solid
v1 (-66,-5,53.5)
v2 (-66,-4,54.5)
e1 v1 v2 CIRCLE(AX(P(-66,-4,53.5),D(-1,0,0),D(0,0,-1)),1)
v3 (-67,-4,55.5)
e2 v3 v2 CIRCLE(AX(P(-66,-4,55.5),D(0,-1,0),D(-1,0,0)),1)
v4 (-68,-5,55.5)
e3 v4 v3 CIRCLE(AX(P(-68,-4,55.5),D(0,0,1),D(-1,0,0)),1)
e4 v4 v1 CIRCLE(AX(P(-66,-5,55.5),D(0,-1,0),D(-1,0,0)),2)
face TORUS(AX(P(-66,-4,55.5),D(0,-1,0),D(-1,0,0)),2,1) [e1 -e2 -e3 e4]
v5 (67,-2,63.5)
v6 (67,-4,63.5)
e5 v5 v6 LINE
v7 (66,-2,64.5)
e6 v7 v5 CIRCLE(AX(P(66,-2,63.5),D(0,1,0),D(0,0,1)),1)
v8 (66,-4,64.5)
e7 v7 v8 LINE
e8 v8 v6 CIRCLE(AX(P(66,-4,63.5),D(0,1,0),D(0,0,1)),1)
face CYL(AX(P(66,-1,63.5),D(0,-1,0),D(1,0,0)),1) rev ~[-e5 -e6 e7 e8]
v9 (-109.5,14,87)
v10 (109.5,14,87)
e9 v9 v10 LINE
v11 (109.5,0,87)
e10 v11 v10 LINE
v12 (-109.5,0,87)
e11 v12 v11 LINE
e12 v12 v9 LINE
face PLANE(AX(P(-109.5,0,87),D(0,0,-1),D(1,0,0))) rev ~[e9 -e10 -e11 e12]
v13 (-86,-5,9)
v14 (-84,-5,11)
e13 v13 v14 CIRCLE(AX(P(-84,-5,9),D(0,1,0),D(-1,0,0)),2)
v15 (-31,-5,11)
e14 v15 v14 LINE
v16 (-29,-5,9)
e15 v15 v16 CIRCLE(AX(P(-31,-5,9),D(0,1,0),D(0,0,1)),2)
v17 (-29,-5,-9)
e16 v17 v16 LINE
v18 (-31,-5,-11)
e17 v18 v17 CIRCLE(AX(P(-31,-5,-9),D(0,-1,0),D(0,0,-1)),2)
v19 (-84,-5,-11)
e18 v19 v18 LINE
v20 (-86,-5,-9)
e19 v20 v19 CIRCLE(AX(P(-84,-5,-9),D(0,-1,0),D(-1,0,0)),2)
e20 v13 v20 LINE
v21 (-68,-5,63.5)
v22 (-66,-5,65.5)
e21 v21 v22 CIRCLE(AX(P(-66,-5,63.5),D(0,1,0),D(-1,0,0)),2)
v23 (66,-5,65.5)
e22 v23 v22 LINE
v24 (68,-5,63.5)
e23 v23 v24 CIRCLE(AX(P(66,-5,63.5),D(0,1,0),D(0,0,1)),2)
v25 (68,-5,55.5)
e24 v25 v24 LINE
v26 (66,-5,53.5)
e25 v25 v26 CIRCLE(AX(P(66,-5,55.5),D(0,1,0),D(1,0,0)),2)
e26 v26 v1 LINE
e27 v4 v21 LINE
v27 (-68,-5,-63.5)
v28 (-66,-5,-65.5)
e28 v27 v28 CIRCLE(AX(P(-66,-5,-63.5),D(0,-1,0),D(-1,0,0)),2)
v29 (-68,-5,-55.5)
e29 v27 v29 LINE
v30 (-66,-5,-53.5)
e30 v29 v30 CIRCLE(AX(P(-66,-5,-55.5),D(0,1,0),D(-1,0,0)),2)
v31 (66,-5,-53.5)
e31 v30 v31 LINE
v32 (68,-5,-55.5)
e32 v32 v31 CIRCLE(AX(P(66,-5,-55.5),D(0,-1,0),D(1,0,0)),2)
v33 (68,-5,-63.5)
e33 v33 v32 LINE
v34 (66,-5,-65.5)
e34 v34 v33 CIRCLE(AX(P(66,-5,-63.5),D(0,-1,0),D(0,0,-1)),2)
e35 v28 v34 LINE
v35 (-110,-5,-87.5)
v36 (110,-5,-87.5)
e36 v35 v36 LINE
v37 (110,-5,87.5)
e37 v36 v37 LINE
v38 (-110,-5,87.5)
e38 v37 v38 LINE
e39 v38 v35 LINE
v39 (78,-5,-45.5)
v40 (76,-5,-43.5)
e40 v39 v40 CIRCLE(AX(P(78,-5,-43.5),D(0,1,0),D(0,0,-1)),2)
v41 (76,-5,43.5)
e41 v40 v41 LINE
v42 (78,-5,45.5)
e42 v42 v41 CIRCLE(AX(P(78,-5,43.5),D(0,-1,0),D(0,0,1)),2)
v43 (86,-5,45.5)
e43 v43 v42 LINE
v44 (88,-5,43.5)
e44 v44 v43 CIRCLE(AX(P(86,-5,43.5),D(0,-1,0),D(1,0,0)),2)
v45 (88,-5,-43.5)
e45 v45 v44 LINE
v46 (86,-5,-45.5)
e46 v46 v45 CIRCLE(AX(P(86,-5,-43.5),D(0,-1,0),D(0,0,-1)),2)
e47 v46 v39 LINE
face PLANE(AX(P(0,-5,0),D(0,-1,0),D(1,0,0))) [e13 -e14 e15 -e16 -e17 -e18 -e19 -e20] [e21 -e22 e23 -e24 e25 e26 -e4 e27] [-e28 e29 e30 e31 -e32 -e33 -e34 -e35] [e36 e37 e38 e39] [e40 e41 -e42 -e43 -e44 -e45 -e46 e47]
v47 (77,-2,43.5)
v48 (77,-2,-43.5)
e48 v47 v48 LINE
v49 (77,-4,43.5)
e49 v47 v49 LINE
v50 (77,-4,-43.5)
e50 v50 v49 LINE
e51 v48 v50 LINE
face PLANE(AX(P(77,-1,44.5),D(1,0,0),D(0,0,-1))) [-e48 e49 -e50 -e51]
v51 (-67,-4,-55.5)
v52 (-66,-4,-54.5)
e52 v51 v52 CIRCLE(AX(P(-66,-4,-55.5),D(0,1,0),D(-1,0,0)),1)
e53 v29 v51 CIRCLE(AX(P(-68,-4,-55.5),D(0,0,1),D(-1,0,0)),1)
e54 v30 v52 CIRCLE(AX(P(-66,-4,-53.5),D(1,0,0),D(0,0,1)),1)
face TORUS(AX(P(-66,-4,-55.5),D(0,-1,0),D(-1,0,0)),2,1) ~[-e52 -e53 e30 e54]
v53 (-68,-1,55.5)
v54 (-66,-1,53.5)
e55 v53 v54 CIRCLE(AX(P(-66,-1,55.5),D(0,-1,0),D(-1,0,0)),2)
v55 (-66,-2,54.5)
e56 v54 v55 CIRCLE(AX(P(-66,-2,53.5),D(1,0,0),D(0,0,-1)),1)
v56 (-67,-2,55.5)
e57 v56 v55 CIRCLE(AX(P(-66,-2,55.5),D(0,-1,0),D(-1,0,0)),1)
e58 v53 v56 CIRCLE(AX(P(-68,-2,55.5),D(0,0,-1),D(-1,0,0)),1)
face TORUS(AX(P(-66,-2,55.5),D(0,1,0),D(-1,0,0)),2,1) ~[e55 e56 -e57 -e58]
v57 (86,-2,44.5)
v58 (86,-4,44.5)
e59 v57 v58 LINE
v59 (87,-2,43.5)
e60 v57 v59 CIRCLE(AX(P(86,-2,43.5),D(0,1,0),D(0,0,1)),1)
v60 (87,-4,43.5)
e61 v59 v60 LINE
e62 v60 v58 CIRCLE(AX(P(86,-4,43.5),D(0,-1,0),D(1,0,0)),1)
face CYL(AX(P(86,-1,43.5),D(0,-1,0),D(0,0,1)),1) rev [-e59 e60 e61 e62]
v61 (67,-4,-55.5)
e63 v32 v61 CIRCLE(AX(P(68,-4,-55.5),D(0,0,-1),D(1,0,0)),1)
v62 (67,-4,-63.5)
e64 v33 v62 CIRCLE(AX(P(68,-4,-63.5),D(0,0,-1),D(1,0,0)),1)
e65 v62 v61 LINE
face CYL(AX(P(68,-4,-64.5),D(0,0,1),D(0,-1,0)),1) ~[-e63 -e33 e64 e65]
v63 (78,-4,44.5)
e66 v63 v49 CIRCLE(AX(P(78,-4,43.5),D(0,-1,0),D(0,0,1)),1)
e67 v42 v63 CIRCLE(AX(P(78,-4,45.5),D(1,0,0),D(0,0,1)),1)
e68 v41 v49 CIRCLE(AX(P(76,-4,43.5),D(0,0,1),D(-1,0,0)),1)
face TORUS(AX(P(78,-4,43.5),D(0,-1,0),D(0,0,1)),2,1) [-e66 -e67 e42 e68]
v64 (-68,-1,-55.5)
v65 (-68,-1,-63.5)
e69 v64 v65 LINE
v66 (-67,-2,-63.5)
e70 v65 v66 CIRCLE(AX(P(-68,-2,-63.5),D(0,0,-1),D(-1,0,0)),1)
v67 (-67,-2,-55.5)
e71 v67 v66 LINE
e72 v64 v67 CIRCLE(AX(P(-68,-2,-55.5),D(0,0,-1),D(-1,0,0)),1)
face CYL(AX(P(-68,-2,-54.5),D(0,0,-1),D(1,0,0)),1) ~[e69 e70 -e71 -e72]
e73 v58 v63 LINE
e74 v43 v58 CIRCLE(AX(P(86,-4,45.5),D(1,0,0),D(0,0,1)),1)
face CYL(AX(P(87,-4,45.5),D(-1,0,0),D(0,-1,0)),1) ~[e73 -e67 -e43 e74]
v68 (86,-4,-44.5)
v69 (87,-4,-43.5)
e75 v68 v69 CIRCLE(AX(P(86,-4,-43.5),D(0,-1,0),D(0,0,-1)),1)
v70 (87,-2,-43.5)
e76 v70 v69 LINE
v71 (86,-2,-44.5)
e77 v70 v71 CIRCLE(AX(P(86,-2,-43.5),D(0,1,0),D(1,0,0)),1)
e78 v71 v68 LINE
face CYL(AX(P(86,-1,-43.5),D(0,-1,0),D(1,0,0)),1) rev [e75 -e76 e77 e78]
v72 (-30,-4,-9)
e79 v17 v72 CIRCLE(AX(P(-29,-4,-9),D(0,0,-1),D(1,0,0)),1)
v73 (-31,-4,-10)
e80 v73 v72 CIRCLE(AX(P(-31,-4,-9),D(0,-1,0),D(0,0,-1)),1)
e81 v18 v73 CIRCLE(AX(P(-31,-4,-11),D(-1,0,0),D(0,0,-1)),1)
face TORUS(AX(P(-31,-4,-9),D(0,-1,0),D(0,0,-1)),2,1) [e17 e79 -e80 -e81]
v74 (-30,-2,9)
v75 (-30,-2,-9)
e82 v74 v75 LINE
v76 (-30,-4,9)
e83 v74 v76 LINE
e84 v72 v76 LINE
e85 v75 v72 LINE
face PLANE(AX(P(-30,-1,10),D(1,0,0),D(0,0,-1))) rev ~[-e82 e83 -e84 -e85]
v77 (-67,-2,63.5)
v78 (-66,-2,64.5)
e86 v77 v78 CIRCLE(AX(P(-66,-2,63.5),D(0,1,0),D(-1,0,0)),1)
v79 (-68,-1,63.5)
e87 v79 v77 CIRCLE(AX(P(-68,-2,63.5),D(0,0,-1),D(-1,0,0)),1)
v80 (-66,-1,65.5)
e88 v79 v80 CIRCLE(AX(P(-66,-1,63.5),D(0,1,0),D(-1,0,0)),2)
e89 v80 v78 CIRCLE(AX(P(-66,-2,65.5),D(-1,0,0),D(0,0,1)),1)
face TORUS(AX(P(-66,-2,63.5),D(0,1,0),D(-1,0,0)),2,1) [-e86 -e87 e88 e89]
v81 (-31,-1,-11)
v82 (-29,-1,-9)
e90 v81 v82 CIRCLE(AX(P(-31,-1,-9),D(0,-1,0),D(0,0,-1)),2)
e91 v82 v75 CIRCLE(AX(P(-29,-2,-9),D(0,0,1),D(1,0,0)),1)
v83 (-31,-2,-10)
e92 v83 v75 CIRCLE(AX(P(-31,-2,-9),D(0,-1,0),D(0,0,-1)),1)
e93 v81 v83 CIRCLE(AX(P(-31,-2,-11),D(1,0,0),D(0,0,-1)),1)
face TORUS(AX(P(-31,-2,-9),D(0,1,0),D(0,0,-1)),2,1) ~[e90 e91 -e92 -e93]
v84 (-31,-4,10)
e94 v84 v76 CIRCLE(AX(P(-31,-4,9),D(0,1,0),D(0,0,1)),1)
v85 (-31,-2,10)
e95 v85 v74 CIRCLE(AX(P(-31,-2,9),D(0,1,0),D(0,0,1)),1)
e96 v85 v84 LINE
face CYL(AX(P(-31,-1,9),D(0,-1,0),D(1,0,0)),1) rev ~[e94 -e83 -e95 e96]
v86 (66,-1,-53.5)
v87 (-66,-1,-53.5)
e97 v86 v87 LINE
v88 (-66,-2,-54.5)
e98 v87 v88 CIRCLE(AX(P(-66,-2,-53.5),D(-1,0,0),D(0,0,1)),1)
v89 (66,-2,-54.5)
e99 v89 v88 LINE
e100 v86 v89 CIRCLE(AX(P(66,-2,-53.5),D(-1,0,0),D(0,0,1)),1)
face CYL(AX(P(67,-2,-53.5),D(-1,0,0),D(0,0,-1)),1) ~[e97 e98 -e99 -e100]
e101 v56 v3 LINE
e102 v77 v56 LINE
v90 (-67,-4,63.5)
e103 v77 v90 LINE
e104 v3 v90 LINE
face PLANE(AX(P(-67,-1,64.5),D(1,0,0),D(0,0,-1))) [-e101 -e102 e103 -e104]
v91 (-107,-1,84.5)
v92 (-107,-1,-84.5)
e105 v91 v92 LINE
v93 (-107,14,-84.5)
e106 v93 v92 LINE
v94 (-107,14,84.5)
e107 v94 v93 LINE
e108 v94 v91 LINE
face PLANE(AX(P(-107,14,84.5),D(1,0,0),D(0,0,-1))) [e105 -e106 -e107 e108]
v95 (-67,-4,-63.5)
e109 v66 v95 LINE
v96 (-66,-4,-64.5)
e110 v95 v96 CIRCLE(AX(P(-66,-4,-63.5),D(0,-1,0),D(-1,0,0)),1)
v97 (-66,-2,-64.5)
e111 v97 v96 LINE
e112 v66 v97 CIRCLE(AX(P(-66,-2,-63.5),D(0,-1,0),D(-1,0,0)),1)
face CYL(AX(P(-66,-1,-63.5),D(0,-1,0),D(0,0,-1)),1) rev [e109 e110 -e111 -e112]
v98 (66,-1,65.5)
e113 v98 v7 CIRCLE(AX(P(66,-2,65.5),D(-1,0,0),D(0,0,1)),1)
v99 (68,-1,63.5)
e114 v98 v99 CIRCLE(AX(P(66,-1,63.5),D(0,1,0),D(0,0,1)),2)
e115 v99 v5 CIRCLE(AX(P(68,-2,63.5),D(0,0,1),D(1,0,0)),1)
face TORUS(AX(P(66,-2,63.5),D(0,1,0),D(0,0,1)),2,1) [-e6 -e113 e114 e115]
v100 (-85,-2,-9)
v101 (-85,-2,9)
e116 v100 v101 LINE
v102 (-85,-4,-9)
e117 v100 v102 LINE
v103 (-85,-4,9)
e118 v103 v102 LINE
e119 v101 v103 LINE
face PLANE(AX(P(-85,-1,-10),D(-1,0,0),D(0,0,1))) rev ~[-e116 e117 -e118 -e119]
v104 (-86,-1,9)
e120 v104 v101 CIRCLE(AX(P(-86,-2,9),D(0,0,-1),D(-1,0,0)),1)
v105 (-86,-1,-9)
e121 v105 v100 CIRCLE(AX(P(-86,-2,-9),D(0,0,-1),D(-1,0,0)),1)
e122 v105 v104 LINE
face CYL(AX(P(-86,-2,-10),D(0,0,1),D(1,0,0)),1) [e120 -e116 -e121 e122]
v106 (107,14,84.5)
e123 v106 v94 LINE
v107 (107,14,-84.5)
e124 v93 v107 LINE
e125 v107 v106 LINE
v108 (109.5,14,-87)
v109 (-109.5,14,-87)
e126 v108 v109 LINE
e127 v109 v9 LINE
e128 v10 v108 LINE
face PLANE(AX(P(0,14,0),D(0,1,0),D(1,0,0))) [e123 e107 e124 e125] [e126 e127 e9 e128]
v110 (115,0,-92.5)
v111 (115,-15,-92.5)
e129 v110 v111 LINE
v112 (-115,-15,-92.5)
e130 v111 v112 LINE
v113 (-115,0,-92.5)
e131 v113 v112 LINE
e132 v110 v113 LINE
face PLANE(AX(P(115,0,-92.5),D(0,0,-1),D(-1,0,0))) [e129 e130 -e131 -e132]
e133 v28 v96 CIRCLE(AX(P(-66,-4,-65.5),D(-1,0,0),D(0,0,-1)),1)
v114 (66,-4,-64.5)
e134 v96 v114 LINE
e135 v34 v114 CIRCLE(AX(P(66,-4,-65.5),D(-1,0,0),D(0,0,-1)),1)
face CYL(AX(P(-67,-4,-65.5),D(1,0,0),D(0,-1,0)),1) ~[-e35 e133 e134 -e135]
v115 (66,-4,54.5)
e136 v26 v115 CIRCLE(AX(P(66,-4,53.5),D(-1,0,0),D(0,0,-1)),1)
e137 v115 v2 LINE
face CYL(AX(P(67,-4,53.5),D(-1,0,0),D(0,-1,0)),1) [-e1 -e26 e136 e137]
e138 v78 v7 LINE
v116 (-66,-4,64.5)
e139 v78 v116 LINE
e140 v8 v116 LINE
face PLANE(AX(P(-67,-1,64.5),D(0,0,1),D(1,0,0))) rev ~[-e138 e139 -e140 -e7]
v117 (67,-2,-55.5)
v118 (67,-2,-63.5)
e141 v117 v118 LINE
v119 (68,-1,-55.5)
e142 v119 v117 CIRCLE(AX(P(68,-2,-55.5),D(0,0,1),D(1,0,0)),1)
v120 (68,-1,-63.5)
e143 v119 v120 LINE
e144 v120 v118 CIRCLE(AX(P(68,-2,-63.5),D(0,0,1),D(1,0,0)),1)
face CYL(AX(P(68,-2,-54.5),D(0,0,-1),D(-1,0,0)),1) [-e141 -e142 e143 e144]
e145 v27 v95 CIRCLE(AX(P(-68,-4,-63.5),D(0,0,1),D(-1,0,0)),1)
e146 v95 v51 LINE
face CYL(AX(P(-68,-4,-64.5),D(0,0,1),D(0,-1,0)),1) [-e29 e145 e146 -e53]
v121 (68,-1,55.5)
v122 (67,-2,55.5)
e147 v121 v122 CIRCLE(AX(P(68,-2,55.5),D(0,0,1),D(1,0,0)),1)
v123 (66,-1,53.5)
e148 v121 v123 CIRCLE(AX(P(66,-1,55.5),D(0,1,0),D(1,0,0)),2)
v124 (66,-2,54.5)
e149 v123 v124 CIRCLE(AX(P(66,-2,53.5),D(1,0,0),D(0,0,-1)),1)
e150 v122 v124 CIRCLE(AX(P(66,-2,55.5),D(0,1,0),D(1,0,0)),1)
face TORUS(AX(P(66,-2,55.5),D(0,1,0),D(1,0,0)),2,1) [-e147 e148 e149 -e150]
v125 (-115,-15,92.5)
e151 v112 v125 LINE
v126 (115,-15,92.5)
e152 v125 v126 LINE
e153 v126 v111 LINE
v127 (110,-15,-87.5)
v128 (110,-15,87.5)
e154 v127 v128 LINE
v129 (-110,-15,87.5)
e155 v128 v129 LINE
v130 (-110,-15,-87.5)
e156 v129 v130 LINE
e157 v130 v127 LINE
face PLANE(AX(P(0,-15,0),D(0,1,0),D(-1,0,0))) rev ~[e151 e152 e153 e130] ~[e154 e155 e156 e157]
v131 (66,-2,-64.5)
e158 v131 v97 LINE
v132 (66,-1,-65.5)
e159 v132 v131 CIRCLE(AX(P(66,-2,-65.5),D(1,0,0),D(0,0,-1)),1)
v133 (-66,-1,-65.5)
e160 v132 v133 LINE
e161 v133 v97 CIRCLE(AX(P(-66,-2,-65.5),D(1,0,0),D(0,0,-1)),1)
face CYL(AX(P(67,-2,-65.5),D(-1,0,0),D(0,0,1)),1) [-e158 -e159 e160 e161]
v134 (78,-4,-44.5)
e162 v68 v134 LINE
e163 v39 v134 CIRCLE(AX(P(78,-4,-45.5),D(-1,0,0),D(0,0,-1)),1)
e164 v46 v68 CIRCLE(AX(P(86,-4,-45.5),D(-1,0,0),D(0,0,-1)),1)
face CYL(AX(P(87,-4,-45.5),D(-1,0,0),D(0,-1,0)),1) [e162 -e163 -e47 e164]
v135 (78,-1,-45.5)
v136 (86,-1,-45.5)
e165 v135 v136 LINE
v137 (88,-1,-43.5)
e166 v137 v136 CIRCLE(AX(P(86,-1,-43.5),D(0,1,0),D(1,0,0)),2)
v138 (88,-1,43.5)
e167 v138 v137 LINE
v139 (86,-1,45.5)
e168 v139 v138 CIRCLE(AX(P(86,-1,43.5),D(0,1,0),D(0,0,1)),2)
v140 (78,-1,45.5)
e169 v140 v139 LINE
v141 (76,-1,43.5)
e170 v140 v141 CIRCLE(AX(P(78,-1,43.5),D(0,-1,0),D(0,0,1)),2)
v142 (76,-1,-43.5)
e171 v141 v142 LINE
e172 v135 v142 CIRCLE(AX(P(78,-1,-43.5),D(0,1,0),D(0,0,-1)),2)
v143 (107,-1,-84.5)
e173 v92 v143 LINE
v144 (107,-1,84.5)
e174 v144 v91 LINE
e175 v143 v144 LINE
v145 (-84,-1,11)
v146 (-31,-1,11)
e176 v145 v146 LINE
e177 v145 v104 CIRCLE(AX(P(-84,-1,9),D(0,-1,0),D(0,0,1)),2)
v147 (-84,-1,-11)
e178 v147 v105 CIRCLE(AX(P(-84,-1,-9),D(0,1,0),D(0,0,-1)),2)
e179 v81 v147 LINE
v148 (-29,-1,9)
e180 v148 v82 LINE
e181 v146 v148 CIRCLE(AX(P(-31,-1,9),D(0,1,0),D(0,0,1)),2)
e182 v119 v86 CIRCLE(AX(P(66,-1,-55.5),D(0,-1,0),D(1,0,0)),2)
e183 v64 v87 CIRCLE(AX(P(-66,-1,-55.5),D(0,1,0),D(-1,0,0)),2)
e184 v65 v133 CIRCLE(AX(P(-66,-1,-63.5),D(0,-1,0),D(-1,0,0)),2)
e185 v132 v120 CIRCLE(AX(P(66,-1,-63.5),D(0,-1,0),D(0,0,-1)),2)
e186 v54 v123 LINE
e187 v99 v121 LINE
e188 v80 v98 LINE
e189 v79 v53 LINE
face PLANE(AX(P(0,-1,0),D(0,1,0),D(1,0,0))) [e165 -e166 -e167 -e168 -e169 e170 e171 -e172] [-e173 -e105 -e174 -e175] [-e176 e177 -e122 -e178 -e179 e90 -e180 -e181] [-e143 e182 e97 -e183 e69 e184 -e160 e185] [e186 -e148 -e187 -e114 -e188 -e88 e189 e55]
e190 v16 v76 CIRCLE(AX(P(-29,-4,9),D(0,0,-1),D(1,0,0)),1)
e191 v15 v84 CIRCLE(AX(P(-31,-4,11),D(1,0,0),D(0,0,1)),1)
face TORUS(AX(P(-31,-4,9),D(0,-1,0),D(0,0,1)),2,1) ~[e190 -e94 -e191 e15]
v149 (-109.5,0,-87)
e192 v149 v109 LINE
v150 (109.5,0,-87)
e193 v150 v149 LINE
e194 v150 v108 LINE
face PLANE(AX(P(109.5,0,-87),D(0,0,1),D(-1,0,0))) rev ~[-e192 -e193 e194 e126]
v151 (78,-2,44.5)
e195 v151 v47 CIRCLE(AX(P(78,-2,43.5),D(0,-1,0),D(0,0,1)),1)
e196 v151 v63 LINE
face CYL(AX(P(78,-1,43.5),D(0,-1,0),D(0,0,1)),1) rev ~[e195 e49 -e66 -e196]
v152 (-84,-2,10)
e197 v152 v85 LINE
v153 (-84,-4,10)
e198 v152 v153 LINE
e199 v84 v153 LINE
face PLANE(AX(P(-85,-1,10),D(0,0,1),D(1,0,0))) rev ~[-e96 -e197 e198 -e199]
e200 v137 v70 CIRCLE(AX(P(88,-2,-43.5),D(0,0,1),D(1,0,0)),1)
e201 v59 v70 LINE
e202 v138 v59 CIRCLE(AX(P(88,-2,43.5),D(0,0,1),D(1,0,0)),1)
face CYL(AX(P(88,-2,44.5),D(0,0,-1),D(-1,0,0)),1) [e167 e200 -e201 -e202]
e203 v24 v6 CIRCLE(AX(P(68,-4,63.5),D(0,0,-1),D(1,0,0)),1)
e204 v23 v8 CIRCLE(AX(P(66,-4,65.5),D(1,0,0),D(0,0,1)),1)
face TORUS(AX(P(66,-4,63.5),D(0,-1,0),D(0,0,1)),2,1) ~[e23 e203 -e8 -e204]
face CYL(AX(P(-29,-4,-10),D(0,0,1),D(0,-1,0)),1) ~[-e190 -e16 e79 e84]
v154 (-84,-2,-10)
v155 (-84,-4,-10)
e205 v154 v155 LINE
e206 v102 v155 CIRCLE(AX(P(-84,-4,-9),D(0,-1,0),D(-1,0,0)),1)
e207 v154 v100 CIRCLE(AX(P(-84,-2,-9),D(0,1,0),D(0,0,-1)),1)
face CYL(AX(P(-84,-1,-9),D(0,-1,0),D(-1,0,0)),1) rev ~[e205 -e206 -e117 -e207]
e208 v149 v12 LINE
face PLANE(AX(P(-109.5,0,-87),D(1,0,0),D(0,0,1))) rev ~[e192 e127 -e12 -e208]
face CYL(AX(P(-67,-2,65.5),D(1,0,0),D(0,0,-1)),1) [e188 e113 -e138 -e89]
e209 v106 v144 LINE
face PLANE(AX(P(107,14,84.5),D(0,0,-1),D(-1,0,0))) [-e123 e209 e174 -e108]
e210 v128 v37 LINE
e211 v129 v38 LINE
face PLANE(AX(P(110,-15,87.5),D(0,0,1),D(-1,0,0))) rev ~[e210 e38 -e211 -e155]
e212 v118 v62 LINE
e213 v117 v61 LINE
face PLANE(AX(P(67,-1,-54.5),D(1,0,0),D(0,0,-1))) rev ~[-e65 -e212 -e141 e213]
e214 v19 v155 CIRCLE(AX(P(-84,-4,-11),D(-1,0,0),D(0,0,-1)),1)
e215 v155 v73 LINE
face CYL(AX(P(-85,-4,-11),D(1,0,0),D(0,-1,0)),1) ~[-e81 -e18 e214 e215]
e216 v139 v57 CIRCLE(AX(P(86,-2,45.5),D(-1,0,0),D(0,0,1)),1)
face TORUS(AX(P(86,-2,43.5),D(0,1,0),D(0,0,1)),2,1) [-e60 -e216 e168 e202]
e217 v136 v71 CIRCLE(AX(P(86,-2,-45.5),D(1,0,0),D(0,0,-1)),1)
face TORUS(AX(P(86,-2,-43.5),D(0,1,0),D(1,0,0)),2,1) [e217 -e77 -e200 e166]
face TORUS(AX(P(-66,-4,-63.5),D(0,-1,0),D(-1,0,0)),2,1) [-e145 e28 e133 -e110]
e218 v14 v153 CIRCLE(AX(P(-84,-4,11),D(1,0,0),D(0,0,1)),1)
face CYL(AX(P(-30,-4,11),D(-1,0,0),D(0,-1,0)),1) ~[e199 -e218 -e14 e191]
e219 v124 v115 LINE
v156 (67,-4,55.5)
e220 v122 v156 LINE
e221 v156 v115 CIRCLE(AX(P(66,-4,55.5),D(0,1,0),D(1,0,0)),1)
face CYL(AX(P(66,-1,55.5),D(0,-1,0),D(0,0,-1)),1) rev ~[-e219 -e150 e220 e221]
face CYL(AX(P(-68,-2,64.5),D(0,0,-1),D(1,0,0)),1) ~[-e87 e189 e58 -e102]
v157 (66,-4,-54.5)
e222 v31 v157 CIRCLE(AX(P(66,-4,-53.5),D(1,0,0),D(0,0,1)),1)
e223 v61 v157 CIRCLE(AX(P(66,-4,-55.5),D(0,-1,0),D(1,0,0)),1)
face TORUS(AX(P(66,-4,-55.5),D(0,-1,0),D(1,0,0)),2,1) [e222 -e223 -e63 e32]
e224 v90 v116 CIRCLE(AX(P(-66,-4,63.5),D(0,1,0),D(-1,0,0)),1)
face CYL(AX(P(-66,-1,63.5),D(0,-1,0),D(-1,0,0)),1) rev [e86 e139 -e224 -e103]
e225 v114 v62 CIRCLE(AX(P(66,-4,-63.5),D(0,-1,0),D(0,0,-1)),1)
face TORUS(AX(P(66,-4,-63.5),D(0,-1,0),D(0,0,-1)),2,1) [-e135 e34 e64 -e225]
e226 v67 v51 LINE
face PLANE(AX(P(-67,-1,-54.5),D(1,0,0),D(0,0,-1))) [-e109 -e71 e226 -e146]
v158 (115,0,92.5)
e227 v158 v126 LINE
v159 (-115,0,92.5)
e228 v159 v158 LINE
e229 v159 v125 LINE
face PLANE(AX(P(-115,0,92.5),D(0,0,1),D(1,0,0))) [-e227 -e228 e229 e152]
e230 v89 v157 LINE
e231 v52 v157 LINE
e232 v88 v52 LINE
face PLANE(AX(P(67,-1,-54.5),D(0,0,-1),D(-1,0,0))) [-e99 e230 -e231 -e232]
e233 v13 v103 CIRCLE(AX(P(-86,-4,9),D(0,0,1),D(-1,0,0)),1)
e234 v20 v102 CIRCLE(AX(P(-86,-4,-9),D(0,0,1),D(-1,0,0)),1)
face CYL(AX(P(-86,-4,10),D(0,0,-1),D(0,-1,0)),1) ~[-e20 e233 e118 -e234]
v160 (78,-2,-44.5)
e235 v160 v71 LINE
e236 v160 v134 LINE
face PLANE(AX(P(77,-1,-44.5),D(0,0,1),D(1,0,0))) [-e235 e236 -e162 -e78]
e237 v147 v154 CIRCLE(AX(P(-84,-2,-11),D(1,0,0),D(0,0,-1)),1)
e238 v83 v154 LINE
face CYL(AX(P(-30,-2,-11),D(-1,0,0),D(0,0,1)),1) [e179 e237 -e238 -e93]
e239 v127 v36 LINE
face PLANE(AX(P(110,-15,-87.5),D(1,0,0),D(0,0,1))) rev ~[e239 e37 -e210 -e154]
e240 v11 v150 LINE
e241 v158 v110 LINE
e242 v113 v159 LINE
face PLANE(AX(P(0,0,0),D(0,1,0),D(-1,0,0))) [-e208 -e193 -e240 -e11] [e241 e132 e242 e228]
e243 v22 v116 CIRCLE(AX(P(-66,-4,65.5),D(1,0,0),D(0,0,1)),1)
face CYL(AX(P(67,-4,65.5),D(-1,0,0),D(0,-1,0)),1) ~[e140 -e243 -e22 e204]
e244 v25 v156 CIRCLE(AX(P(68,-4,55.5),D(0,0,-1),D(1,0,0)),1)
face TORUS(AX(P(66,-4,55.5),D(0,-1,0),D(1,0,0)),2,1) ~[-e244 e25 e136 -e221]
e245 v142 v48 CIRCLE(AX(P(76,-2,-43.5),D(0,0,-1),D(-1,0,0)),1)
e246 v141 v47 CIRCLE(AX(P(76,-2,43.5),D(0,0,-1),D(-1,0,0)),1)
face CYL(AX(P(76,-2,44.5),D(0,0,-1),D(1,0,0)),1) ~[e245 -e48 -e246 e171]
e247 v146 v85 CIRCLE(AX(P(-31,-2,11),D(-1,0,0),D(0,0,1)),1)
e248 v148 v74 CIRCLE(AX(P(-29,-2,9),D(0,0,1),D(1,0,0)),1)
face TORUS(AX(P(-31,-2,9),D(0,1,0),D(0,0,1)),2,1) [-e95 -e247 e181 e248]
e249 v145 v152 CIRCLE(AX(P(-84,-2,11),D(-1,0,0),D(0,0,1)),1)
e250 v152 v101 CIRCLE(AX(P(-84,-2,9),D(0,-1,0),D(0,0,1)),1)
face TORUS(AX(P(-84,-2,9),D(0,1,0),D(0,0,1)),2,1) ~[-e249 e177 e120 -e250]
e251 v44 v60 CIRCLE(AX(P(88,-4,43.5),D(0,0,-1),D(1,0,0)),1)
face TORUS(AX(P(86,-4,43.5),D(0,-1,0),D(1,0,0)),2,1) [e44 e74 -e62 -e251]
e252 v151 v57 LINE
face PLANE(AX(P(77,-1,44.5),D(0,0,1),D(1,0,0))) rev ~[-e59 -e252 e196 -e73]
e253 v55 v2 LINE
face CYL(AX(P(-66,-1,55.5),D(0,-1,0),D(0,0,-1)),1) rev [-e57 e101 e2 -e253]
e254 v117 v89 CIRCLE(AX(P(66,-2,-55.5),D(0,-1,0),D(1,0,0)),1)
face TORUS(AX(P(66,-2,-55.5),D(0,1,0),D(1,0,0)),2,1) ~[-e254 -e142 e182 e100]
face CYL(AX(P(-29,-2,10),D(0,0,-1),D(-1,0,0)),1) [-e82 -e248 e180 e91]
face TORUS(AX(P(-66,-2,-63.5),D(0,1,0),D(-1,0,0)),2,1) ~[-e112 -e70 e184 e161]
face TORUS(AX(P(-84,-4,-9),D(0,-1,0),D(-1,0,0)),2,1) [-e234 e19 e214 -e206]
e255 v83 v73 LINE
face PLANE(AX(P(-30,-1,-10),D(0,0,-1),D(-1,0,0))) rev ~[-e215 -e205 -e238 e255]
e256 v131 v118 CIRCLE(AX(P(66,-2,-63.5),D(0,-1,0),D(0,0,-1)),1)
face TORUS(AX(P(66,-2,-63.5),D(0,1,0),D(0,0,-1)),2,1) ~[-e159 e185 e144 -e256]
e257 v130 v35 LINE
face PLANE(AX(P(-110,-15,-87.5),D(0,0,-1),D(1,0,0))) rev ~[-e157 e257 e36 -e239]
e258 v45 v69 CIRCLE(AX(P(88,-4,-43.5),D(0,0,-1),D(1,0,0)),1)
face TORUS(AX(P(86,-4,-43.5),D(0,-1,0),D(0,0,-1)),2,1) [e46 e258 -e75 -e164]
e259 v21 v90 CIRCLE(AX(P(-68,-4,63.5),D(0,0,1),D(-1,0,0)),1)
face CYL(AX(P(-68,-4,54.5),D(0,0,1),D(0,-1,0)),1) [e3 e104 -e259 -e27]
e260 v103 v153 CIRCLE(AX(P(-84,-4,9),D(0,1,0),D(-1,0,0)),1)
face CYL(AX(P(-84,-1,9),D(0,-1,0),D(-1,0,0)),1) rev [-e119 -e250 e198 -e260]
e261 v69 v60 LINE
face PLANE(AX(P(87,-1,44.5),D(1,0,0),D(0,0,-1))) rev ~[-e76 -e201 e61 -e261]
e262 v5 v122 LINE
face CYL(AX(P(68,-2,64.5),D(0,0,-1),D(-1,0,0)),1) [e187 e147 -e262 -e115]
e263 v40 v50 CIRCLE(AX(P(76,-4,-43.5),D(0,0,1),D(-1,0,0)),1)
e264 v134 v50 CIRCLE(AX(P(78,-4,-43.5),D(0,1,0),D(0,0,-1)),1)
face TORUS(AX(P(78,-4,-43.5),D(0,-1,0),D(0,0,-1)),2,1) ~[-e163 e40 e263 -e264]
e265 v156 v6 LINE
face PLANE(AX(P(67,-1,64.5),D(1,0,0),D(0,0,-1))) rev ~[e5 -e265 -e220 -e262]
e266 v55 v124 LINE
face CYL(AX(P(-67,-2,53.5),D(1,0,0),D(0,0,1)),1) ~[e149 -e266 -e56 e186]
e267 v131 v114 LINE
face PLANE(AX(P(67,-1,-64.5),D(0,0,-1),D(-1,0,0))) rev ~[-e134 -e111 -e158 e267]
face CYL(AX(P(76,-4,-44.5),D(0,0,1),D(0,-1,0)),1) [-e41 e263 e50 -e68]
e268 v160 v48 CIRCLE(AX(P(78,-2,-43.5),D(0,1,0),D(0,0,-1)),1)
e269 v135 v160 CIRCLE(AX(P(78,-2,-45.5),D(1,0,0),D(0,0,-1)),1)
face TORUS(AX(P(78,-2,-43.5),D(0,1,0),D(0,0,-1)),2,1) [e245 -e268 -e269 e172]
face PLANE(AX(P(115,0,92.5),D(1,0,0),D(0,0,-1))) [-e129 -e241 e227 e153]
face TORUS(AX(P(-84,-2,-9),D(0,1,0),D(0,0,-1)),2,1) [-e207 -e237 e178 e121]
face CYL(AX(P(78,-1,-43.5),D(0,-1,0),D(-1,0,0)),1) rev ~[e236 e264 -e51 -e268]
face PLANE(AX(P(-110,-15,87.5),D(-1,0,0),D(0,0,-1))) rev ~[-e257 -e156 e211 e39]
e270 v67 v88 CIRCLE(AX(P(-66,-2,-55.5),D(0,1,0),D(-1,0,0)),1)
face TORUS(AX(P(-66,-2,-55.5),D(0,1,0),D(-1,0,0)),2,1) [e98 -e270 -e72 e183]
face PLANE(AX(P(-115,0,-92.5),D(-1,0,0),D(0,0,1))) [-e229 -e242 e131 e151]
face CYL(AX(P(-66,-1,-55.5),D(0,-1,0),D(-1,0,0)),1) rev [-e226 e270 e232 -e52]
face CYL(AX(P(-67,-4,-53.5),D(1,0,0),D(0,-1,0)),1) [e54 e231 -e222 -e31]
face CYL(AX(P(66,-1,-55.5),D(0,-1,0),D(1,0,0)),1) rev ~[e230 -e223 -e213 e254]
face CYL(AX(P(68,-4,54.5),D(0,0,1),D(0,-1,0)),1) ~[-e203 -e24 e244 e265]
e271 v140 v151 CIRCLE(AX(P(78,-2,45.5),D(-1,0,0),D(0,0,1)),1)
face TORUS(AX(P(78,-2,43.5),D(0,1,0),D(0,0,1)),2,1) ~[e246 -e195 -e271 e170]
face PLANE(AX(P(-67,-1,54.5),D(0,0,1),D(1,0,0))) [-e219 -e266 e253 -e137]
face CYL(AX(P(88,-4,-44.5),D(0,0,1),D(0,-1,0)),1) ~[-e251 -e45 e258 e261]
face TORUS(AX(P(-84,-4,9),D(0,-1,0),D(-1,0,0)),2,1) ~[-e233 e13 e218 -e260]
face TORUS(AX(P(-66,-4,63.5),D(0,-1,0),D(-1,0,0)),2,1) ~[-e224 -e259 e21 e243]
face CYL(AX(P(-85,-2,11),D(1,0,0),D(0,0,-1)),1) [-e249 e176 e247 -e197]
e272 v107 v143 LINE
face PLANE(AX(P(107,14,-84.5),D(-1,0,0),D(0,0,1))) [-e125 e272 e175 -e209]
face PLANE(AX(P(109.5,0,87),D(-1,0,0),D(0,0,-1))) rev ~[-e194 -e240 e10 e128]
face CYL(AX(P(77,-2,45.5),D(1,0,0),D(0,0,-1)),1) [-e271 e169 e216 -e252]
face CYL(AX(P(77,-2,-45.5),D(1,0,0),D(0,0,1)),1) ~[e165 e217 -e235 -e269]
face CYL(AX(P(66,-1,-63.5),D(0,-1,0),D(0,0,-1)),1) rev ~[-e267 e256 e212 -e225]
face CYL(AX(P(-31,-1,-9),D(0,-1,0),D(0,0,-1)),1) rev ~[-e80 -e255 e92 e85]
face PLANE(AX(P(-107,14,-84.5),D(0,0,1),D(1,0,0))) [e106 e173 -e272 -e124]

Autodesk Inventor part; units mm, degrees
ref_plane "YZ Plane" through (0, 0, 0) normal (1, 0, 0) x (0, 1, 0)
ref_plane "XZ Plane" through (0, 0, 0) normal (0, 1, 0) x (-1, 0, 0)
ref_plane "XY Plane" through (0, 0, 0) normal (0, 0, 1) x (1, 0, 0)
sketch "Sketch1" plane through (0, 0, 0) normal (0, 1, 0) x (-1, 0, 0)
  line L0 (115, 92.5) -> (-115, 92.5)
  line L1 (-115, 92.5) -> (-115, -92.5)
  line L2 (-115, -92.5) -> (115, -92.5)
  line L3 (115, -92.5) -> (115, 92.5)
  point P0 (0, 0)
  dimension "d0" = 230
  dimension "d1" = 185
  dimension "d2" = 92.5
  dimension "d3" = 115
extrude "Extrusion1" add sketch "Sketch1" against normal blind 15
sketch "Sketch5" plane through (0, 0, 0) normal (0, 1, 0) x (1, 0, 0)
  line L0 (-115, -92.5) -> (115, -92.5) projected
  line L1 (115, -92.5) -> (115, 92.5) projected
  line L2 (115, 92.5) -> (-115, 92.5) projected
  line L3 (-115, 92.5) -> (-115, -92.5) projected
  line L4 (-109.5, -87) -> (109.5, -87)
  line L5 (109.5, -87) -> (109.5, 87)
  line L6 (109.5, 87) -> (-109.5, 87)
  line L7 (-109.5, 87) -> (-109.5, -87)
  point P0 (0, 0)
  dimension "d42" = 5.5
  dimension "d43" = 5.5
  dimension "d44" = 5.5
  dimension "d45" = 5.5
extrude "Extrusion6" add sketch "Sketch5" along normal blind 14 contours L7 L6 L5 L4
sketch "Sketch6" plane through (0, 14, 0) normal (0, 1, 0) x (1, 0, 0)
  line L0 (-109.5, -87) -> (109.5, -87) projected
  line L1 (109.5, -87) -> (109.5, 87) projected
  line L2 (109.5, 87) -> (-109.5, 87) projected
  line L3 (-109.5, 87) -> (-109.5, -87) projected
  line L4 (107, -84.5) -> (-107, -84.5)
  line L5 (-107, -84.5) -> (-107, 84.5)
  line L6 (-107, 84.5) -> (107, 84.5)
  line L7 (107, 84.5) -> (107, -84.5)
  point P0 (0, 0)
  dimension "d48" = 2.5
  dimension "d49" = 2.5
  dimension "d50" = 2.5
  dimension "d51" = 2.5
extrude "Extrusion7" cut sketch "Sketch6" against normal blind 15 contours L4 L5 L6 L7
sketch "Sketch7" plane through (0, -15, 0) normal (0, -1, 0) x (1, 0, 0)
  line L0 (115, 92.5) -> (-115, 92.5) projected
  line L1 (-115, 92.5) -> (-115, -92.5) projected
  line L2 (-115, -92.5) -> (115, -92.5) projected
  line L3 (115, -92.5) -> (115, 92.5) projected
  line L4 (110, 87.5) -> (-110, 87.5)
  line L5 (-110, 87.5) -> (-110, -87.5)
  line L6 (-110, -87.5) -> (110, -87.5)
  line L7 (110, -87.5) -> (110, 87.5)
  point P0 (0, 0)
  dimension "d54" = 5
  dimension "d55" = 5
  dimension "d56" = 5
  dimension "d57" = 5
extrude "Extrusion8" cut sketch "Sketch7" against normal blind 10 contours L7 L6 L5 L4
sketch "Sketch8" plane through (0, -1, 0) normal (0, 1, 0) x (1, 0, 0)
  line L0 (107, -84.5) -> (-107, -84.5) projected
  line L1 (107, 84.5) -> (107, -84.5) projected
  line L2 (-107, 84.5) -> (107, 84.5) projected
  line L3 (-107, -84.5) -> (-107, 84.5) projected
  line L4 (-87, -64.5) -> (87, -64.5)
  line L5 (87, -64.5) -> (87, 64.5)
  line L6 (87, 64.5) -> (-87, 64.5)
  line L7 (-87, 64.5) -> (-87, -64.5)
  line L8 (-77, -54.5) -> (77, -54.5)
  line L9 (77, -54.5) -> (77, 54.5)
  line L10 (77, 54.5) -> (-77, 54.5)
  line L11 (-77, 54.5) -> (-77, -54.5)
  line L12 (-87, -44.5) -> (-77, -44.5)
  line L13 (-67, -64.5) -> (-67, -54.5)
  line L14 (-87, 44.5) -> (-77, 44.5)
  line L15 (-67, 54.5) -> (-67, 64.5)
  line L16 (67, -64.5) -> (67, -54.5)
  line L17 (77, -44.5) -> (87, -44.5)
  line L18 (67, 54.5) -> (67, 64.5)
  line L19 (77, 44.5) -> (87, 44.5)
  point P0 (0, 0)
  dimension "d60" = 20
  dimension "d61" = 20
  dimension "d62" = 20
  dimension "d63" = 20
  dimension "d64" = 10
  dimension "d65" = 10
  dimension "d66" = 10
  dimension "d67" = 10
  dimension "d68" = 20
  dimension "d69" = 20
  dimension "d70" = 20
  dimension "d71" = 20
  dimension "d72" = 20
  dimension "d73" = 20
  dimension "d74" = 20
  dimension "d75" = 20
extrude "Extrusion9" cut sketch "Sketch8" against normal through all contours L13 L8 L16 L4 | L17 L9 L19 L5 | L6 L18 L10 L15
sketch "Sketch9" plane through (0, -1, 0) normal (0, 1, 0) x (1, 0, 0)
  line L0 (67, -54.5) -> (67, -64.5) projected
  line L1 (67, -64.5) -> (-67, -64.5) projected
  line L2 (-67, -64.5) -> (-67, -54.5) projected
  line L3 (-67, -54.5) -> (67, -54.5) projected
  line L4 (87, 44.5) -> (87, -44.5) projected
  line L5 (87, -44.5) -> (77, -44.5) projected
  line L6 (77, -44.5) -> (77, 44.5) projected
  line L7 (77, 44.5) -> (87, 44.5) projected
  line L8 (67, 64.5) -> (67, 54.5) projected
  line L9 (67, 54.5) -> (-67, 54.5) projected
  line L10 (-67, 54.5) -> (-67, 64.5) projected
  line L11 (-67, 64.5) -> (67, 64.5) projected
  line L12 (107, -84.5) -> (-107, -84.5) projected
  line L13 (107, 84.5) -> (107, -84.5) projected
  line L14 (-107, 84.5) -> (107, 84.5) projected
  line L15 (-107, -84.5) -> (-107, 84.5) projected
  line L16 (-85, -10) -> (-30, -10)
  line L17 (-30, -10) -> (-30, 10)
  line L18 (-30, 10) -> (-85, 10)
  line L19 (-85, 10) -> (-85, -10)
  point P0 (0, 0)
  dimension "d78" = 55
  dimension "d79" = 20
  dimension "d80" = 30
  dimension "d81" = 10
extrude "Extrusion10" cut sketch "Sketch9" against normal through all contours L19 L18 L17 L16
fillet "Fillet1" radius 1 48 edges at (-57.5, -1, -10) (-57.5, -1, 10) (-85, -1, 0) (-30, -1, 0) (0, -1, 54.5) (0, -1, -54.5) (77, -1, 0) (77, -5, 0) (0, -5, 54.5) (0, -5, -54.5) (-85, -5, 0) (-57.5, -5, -10) (-57.5, -5, 10) (-30, -5, 0) (-85, -3, -10) (-85, -3, 10) (-30, -3, 10) (-30, -3, -10) (-67, -3, 54.5) (67, -3, 54.5) (77, -3, 44.5) (77, -3, -44.5) (67, -3, -54.5) (-67, -3, -54.5) (-67, -5, 59.5) (0, -5, 64.5) (67, -5, 59.5) (-67, -5, -59.5) (0, -5, -64.5) (67, -5, -59.5) (82, -5, -44.5) (87, -5, 0) (82, -5, 44.5) (-67, -1, 59.5) (0, -1, 64.5) (67, -1, 59.5) (-67, -1, -59.5) (0, -1, -64.5) (67, -1, -59.5) (82, -1, 44.5) (87, -1, 0) (82, -1, -44.5) (87, -3, -44.5) (87, -3, 44.5) (67, -3, 64.5) (-67, -3, 64.5) (-67, -3, -64.5) (67, -3, -64.5)
equation "\"d2\" = 0.5 * d1"
equation "\"d3\" = 0.5 * d0"
equation "\"d43\" = d42"
equation "\"d44\" = d42"
equation "\"d45\" = d42"
equation "\"d49\" = d48"
equation "\"d50\" = d48"
equation "\"d51\" = d48"
equation "\"d55\" = d54"
equation "\"d56\" = d54"
equation "\"d57\" = d54"
equation "\"d61\" = d60"
equation "\"d62\" = d60"
equation "\"d63\" = d60"
equation "\"d65\" = d64"
equation "\"d66\" = d64"
equation "\"d67\" = d64"
equation "\"d68\" = d69"
equation "\"d70\" = d69"
equation "\"d71\" = d69"
equation "\"d72\" = d69"
equation "\"d73\" = d69"
equation "\"d74\" = d69"
equation "\"d75\" = d69"
equation "\"d81\" = 0.5 * d79"
properties part number "Platform"
